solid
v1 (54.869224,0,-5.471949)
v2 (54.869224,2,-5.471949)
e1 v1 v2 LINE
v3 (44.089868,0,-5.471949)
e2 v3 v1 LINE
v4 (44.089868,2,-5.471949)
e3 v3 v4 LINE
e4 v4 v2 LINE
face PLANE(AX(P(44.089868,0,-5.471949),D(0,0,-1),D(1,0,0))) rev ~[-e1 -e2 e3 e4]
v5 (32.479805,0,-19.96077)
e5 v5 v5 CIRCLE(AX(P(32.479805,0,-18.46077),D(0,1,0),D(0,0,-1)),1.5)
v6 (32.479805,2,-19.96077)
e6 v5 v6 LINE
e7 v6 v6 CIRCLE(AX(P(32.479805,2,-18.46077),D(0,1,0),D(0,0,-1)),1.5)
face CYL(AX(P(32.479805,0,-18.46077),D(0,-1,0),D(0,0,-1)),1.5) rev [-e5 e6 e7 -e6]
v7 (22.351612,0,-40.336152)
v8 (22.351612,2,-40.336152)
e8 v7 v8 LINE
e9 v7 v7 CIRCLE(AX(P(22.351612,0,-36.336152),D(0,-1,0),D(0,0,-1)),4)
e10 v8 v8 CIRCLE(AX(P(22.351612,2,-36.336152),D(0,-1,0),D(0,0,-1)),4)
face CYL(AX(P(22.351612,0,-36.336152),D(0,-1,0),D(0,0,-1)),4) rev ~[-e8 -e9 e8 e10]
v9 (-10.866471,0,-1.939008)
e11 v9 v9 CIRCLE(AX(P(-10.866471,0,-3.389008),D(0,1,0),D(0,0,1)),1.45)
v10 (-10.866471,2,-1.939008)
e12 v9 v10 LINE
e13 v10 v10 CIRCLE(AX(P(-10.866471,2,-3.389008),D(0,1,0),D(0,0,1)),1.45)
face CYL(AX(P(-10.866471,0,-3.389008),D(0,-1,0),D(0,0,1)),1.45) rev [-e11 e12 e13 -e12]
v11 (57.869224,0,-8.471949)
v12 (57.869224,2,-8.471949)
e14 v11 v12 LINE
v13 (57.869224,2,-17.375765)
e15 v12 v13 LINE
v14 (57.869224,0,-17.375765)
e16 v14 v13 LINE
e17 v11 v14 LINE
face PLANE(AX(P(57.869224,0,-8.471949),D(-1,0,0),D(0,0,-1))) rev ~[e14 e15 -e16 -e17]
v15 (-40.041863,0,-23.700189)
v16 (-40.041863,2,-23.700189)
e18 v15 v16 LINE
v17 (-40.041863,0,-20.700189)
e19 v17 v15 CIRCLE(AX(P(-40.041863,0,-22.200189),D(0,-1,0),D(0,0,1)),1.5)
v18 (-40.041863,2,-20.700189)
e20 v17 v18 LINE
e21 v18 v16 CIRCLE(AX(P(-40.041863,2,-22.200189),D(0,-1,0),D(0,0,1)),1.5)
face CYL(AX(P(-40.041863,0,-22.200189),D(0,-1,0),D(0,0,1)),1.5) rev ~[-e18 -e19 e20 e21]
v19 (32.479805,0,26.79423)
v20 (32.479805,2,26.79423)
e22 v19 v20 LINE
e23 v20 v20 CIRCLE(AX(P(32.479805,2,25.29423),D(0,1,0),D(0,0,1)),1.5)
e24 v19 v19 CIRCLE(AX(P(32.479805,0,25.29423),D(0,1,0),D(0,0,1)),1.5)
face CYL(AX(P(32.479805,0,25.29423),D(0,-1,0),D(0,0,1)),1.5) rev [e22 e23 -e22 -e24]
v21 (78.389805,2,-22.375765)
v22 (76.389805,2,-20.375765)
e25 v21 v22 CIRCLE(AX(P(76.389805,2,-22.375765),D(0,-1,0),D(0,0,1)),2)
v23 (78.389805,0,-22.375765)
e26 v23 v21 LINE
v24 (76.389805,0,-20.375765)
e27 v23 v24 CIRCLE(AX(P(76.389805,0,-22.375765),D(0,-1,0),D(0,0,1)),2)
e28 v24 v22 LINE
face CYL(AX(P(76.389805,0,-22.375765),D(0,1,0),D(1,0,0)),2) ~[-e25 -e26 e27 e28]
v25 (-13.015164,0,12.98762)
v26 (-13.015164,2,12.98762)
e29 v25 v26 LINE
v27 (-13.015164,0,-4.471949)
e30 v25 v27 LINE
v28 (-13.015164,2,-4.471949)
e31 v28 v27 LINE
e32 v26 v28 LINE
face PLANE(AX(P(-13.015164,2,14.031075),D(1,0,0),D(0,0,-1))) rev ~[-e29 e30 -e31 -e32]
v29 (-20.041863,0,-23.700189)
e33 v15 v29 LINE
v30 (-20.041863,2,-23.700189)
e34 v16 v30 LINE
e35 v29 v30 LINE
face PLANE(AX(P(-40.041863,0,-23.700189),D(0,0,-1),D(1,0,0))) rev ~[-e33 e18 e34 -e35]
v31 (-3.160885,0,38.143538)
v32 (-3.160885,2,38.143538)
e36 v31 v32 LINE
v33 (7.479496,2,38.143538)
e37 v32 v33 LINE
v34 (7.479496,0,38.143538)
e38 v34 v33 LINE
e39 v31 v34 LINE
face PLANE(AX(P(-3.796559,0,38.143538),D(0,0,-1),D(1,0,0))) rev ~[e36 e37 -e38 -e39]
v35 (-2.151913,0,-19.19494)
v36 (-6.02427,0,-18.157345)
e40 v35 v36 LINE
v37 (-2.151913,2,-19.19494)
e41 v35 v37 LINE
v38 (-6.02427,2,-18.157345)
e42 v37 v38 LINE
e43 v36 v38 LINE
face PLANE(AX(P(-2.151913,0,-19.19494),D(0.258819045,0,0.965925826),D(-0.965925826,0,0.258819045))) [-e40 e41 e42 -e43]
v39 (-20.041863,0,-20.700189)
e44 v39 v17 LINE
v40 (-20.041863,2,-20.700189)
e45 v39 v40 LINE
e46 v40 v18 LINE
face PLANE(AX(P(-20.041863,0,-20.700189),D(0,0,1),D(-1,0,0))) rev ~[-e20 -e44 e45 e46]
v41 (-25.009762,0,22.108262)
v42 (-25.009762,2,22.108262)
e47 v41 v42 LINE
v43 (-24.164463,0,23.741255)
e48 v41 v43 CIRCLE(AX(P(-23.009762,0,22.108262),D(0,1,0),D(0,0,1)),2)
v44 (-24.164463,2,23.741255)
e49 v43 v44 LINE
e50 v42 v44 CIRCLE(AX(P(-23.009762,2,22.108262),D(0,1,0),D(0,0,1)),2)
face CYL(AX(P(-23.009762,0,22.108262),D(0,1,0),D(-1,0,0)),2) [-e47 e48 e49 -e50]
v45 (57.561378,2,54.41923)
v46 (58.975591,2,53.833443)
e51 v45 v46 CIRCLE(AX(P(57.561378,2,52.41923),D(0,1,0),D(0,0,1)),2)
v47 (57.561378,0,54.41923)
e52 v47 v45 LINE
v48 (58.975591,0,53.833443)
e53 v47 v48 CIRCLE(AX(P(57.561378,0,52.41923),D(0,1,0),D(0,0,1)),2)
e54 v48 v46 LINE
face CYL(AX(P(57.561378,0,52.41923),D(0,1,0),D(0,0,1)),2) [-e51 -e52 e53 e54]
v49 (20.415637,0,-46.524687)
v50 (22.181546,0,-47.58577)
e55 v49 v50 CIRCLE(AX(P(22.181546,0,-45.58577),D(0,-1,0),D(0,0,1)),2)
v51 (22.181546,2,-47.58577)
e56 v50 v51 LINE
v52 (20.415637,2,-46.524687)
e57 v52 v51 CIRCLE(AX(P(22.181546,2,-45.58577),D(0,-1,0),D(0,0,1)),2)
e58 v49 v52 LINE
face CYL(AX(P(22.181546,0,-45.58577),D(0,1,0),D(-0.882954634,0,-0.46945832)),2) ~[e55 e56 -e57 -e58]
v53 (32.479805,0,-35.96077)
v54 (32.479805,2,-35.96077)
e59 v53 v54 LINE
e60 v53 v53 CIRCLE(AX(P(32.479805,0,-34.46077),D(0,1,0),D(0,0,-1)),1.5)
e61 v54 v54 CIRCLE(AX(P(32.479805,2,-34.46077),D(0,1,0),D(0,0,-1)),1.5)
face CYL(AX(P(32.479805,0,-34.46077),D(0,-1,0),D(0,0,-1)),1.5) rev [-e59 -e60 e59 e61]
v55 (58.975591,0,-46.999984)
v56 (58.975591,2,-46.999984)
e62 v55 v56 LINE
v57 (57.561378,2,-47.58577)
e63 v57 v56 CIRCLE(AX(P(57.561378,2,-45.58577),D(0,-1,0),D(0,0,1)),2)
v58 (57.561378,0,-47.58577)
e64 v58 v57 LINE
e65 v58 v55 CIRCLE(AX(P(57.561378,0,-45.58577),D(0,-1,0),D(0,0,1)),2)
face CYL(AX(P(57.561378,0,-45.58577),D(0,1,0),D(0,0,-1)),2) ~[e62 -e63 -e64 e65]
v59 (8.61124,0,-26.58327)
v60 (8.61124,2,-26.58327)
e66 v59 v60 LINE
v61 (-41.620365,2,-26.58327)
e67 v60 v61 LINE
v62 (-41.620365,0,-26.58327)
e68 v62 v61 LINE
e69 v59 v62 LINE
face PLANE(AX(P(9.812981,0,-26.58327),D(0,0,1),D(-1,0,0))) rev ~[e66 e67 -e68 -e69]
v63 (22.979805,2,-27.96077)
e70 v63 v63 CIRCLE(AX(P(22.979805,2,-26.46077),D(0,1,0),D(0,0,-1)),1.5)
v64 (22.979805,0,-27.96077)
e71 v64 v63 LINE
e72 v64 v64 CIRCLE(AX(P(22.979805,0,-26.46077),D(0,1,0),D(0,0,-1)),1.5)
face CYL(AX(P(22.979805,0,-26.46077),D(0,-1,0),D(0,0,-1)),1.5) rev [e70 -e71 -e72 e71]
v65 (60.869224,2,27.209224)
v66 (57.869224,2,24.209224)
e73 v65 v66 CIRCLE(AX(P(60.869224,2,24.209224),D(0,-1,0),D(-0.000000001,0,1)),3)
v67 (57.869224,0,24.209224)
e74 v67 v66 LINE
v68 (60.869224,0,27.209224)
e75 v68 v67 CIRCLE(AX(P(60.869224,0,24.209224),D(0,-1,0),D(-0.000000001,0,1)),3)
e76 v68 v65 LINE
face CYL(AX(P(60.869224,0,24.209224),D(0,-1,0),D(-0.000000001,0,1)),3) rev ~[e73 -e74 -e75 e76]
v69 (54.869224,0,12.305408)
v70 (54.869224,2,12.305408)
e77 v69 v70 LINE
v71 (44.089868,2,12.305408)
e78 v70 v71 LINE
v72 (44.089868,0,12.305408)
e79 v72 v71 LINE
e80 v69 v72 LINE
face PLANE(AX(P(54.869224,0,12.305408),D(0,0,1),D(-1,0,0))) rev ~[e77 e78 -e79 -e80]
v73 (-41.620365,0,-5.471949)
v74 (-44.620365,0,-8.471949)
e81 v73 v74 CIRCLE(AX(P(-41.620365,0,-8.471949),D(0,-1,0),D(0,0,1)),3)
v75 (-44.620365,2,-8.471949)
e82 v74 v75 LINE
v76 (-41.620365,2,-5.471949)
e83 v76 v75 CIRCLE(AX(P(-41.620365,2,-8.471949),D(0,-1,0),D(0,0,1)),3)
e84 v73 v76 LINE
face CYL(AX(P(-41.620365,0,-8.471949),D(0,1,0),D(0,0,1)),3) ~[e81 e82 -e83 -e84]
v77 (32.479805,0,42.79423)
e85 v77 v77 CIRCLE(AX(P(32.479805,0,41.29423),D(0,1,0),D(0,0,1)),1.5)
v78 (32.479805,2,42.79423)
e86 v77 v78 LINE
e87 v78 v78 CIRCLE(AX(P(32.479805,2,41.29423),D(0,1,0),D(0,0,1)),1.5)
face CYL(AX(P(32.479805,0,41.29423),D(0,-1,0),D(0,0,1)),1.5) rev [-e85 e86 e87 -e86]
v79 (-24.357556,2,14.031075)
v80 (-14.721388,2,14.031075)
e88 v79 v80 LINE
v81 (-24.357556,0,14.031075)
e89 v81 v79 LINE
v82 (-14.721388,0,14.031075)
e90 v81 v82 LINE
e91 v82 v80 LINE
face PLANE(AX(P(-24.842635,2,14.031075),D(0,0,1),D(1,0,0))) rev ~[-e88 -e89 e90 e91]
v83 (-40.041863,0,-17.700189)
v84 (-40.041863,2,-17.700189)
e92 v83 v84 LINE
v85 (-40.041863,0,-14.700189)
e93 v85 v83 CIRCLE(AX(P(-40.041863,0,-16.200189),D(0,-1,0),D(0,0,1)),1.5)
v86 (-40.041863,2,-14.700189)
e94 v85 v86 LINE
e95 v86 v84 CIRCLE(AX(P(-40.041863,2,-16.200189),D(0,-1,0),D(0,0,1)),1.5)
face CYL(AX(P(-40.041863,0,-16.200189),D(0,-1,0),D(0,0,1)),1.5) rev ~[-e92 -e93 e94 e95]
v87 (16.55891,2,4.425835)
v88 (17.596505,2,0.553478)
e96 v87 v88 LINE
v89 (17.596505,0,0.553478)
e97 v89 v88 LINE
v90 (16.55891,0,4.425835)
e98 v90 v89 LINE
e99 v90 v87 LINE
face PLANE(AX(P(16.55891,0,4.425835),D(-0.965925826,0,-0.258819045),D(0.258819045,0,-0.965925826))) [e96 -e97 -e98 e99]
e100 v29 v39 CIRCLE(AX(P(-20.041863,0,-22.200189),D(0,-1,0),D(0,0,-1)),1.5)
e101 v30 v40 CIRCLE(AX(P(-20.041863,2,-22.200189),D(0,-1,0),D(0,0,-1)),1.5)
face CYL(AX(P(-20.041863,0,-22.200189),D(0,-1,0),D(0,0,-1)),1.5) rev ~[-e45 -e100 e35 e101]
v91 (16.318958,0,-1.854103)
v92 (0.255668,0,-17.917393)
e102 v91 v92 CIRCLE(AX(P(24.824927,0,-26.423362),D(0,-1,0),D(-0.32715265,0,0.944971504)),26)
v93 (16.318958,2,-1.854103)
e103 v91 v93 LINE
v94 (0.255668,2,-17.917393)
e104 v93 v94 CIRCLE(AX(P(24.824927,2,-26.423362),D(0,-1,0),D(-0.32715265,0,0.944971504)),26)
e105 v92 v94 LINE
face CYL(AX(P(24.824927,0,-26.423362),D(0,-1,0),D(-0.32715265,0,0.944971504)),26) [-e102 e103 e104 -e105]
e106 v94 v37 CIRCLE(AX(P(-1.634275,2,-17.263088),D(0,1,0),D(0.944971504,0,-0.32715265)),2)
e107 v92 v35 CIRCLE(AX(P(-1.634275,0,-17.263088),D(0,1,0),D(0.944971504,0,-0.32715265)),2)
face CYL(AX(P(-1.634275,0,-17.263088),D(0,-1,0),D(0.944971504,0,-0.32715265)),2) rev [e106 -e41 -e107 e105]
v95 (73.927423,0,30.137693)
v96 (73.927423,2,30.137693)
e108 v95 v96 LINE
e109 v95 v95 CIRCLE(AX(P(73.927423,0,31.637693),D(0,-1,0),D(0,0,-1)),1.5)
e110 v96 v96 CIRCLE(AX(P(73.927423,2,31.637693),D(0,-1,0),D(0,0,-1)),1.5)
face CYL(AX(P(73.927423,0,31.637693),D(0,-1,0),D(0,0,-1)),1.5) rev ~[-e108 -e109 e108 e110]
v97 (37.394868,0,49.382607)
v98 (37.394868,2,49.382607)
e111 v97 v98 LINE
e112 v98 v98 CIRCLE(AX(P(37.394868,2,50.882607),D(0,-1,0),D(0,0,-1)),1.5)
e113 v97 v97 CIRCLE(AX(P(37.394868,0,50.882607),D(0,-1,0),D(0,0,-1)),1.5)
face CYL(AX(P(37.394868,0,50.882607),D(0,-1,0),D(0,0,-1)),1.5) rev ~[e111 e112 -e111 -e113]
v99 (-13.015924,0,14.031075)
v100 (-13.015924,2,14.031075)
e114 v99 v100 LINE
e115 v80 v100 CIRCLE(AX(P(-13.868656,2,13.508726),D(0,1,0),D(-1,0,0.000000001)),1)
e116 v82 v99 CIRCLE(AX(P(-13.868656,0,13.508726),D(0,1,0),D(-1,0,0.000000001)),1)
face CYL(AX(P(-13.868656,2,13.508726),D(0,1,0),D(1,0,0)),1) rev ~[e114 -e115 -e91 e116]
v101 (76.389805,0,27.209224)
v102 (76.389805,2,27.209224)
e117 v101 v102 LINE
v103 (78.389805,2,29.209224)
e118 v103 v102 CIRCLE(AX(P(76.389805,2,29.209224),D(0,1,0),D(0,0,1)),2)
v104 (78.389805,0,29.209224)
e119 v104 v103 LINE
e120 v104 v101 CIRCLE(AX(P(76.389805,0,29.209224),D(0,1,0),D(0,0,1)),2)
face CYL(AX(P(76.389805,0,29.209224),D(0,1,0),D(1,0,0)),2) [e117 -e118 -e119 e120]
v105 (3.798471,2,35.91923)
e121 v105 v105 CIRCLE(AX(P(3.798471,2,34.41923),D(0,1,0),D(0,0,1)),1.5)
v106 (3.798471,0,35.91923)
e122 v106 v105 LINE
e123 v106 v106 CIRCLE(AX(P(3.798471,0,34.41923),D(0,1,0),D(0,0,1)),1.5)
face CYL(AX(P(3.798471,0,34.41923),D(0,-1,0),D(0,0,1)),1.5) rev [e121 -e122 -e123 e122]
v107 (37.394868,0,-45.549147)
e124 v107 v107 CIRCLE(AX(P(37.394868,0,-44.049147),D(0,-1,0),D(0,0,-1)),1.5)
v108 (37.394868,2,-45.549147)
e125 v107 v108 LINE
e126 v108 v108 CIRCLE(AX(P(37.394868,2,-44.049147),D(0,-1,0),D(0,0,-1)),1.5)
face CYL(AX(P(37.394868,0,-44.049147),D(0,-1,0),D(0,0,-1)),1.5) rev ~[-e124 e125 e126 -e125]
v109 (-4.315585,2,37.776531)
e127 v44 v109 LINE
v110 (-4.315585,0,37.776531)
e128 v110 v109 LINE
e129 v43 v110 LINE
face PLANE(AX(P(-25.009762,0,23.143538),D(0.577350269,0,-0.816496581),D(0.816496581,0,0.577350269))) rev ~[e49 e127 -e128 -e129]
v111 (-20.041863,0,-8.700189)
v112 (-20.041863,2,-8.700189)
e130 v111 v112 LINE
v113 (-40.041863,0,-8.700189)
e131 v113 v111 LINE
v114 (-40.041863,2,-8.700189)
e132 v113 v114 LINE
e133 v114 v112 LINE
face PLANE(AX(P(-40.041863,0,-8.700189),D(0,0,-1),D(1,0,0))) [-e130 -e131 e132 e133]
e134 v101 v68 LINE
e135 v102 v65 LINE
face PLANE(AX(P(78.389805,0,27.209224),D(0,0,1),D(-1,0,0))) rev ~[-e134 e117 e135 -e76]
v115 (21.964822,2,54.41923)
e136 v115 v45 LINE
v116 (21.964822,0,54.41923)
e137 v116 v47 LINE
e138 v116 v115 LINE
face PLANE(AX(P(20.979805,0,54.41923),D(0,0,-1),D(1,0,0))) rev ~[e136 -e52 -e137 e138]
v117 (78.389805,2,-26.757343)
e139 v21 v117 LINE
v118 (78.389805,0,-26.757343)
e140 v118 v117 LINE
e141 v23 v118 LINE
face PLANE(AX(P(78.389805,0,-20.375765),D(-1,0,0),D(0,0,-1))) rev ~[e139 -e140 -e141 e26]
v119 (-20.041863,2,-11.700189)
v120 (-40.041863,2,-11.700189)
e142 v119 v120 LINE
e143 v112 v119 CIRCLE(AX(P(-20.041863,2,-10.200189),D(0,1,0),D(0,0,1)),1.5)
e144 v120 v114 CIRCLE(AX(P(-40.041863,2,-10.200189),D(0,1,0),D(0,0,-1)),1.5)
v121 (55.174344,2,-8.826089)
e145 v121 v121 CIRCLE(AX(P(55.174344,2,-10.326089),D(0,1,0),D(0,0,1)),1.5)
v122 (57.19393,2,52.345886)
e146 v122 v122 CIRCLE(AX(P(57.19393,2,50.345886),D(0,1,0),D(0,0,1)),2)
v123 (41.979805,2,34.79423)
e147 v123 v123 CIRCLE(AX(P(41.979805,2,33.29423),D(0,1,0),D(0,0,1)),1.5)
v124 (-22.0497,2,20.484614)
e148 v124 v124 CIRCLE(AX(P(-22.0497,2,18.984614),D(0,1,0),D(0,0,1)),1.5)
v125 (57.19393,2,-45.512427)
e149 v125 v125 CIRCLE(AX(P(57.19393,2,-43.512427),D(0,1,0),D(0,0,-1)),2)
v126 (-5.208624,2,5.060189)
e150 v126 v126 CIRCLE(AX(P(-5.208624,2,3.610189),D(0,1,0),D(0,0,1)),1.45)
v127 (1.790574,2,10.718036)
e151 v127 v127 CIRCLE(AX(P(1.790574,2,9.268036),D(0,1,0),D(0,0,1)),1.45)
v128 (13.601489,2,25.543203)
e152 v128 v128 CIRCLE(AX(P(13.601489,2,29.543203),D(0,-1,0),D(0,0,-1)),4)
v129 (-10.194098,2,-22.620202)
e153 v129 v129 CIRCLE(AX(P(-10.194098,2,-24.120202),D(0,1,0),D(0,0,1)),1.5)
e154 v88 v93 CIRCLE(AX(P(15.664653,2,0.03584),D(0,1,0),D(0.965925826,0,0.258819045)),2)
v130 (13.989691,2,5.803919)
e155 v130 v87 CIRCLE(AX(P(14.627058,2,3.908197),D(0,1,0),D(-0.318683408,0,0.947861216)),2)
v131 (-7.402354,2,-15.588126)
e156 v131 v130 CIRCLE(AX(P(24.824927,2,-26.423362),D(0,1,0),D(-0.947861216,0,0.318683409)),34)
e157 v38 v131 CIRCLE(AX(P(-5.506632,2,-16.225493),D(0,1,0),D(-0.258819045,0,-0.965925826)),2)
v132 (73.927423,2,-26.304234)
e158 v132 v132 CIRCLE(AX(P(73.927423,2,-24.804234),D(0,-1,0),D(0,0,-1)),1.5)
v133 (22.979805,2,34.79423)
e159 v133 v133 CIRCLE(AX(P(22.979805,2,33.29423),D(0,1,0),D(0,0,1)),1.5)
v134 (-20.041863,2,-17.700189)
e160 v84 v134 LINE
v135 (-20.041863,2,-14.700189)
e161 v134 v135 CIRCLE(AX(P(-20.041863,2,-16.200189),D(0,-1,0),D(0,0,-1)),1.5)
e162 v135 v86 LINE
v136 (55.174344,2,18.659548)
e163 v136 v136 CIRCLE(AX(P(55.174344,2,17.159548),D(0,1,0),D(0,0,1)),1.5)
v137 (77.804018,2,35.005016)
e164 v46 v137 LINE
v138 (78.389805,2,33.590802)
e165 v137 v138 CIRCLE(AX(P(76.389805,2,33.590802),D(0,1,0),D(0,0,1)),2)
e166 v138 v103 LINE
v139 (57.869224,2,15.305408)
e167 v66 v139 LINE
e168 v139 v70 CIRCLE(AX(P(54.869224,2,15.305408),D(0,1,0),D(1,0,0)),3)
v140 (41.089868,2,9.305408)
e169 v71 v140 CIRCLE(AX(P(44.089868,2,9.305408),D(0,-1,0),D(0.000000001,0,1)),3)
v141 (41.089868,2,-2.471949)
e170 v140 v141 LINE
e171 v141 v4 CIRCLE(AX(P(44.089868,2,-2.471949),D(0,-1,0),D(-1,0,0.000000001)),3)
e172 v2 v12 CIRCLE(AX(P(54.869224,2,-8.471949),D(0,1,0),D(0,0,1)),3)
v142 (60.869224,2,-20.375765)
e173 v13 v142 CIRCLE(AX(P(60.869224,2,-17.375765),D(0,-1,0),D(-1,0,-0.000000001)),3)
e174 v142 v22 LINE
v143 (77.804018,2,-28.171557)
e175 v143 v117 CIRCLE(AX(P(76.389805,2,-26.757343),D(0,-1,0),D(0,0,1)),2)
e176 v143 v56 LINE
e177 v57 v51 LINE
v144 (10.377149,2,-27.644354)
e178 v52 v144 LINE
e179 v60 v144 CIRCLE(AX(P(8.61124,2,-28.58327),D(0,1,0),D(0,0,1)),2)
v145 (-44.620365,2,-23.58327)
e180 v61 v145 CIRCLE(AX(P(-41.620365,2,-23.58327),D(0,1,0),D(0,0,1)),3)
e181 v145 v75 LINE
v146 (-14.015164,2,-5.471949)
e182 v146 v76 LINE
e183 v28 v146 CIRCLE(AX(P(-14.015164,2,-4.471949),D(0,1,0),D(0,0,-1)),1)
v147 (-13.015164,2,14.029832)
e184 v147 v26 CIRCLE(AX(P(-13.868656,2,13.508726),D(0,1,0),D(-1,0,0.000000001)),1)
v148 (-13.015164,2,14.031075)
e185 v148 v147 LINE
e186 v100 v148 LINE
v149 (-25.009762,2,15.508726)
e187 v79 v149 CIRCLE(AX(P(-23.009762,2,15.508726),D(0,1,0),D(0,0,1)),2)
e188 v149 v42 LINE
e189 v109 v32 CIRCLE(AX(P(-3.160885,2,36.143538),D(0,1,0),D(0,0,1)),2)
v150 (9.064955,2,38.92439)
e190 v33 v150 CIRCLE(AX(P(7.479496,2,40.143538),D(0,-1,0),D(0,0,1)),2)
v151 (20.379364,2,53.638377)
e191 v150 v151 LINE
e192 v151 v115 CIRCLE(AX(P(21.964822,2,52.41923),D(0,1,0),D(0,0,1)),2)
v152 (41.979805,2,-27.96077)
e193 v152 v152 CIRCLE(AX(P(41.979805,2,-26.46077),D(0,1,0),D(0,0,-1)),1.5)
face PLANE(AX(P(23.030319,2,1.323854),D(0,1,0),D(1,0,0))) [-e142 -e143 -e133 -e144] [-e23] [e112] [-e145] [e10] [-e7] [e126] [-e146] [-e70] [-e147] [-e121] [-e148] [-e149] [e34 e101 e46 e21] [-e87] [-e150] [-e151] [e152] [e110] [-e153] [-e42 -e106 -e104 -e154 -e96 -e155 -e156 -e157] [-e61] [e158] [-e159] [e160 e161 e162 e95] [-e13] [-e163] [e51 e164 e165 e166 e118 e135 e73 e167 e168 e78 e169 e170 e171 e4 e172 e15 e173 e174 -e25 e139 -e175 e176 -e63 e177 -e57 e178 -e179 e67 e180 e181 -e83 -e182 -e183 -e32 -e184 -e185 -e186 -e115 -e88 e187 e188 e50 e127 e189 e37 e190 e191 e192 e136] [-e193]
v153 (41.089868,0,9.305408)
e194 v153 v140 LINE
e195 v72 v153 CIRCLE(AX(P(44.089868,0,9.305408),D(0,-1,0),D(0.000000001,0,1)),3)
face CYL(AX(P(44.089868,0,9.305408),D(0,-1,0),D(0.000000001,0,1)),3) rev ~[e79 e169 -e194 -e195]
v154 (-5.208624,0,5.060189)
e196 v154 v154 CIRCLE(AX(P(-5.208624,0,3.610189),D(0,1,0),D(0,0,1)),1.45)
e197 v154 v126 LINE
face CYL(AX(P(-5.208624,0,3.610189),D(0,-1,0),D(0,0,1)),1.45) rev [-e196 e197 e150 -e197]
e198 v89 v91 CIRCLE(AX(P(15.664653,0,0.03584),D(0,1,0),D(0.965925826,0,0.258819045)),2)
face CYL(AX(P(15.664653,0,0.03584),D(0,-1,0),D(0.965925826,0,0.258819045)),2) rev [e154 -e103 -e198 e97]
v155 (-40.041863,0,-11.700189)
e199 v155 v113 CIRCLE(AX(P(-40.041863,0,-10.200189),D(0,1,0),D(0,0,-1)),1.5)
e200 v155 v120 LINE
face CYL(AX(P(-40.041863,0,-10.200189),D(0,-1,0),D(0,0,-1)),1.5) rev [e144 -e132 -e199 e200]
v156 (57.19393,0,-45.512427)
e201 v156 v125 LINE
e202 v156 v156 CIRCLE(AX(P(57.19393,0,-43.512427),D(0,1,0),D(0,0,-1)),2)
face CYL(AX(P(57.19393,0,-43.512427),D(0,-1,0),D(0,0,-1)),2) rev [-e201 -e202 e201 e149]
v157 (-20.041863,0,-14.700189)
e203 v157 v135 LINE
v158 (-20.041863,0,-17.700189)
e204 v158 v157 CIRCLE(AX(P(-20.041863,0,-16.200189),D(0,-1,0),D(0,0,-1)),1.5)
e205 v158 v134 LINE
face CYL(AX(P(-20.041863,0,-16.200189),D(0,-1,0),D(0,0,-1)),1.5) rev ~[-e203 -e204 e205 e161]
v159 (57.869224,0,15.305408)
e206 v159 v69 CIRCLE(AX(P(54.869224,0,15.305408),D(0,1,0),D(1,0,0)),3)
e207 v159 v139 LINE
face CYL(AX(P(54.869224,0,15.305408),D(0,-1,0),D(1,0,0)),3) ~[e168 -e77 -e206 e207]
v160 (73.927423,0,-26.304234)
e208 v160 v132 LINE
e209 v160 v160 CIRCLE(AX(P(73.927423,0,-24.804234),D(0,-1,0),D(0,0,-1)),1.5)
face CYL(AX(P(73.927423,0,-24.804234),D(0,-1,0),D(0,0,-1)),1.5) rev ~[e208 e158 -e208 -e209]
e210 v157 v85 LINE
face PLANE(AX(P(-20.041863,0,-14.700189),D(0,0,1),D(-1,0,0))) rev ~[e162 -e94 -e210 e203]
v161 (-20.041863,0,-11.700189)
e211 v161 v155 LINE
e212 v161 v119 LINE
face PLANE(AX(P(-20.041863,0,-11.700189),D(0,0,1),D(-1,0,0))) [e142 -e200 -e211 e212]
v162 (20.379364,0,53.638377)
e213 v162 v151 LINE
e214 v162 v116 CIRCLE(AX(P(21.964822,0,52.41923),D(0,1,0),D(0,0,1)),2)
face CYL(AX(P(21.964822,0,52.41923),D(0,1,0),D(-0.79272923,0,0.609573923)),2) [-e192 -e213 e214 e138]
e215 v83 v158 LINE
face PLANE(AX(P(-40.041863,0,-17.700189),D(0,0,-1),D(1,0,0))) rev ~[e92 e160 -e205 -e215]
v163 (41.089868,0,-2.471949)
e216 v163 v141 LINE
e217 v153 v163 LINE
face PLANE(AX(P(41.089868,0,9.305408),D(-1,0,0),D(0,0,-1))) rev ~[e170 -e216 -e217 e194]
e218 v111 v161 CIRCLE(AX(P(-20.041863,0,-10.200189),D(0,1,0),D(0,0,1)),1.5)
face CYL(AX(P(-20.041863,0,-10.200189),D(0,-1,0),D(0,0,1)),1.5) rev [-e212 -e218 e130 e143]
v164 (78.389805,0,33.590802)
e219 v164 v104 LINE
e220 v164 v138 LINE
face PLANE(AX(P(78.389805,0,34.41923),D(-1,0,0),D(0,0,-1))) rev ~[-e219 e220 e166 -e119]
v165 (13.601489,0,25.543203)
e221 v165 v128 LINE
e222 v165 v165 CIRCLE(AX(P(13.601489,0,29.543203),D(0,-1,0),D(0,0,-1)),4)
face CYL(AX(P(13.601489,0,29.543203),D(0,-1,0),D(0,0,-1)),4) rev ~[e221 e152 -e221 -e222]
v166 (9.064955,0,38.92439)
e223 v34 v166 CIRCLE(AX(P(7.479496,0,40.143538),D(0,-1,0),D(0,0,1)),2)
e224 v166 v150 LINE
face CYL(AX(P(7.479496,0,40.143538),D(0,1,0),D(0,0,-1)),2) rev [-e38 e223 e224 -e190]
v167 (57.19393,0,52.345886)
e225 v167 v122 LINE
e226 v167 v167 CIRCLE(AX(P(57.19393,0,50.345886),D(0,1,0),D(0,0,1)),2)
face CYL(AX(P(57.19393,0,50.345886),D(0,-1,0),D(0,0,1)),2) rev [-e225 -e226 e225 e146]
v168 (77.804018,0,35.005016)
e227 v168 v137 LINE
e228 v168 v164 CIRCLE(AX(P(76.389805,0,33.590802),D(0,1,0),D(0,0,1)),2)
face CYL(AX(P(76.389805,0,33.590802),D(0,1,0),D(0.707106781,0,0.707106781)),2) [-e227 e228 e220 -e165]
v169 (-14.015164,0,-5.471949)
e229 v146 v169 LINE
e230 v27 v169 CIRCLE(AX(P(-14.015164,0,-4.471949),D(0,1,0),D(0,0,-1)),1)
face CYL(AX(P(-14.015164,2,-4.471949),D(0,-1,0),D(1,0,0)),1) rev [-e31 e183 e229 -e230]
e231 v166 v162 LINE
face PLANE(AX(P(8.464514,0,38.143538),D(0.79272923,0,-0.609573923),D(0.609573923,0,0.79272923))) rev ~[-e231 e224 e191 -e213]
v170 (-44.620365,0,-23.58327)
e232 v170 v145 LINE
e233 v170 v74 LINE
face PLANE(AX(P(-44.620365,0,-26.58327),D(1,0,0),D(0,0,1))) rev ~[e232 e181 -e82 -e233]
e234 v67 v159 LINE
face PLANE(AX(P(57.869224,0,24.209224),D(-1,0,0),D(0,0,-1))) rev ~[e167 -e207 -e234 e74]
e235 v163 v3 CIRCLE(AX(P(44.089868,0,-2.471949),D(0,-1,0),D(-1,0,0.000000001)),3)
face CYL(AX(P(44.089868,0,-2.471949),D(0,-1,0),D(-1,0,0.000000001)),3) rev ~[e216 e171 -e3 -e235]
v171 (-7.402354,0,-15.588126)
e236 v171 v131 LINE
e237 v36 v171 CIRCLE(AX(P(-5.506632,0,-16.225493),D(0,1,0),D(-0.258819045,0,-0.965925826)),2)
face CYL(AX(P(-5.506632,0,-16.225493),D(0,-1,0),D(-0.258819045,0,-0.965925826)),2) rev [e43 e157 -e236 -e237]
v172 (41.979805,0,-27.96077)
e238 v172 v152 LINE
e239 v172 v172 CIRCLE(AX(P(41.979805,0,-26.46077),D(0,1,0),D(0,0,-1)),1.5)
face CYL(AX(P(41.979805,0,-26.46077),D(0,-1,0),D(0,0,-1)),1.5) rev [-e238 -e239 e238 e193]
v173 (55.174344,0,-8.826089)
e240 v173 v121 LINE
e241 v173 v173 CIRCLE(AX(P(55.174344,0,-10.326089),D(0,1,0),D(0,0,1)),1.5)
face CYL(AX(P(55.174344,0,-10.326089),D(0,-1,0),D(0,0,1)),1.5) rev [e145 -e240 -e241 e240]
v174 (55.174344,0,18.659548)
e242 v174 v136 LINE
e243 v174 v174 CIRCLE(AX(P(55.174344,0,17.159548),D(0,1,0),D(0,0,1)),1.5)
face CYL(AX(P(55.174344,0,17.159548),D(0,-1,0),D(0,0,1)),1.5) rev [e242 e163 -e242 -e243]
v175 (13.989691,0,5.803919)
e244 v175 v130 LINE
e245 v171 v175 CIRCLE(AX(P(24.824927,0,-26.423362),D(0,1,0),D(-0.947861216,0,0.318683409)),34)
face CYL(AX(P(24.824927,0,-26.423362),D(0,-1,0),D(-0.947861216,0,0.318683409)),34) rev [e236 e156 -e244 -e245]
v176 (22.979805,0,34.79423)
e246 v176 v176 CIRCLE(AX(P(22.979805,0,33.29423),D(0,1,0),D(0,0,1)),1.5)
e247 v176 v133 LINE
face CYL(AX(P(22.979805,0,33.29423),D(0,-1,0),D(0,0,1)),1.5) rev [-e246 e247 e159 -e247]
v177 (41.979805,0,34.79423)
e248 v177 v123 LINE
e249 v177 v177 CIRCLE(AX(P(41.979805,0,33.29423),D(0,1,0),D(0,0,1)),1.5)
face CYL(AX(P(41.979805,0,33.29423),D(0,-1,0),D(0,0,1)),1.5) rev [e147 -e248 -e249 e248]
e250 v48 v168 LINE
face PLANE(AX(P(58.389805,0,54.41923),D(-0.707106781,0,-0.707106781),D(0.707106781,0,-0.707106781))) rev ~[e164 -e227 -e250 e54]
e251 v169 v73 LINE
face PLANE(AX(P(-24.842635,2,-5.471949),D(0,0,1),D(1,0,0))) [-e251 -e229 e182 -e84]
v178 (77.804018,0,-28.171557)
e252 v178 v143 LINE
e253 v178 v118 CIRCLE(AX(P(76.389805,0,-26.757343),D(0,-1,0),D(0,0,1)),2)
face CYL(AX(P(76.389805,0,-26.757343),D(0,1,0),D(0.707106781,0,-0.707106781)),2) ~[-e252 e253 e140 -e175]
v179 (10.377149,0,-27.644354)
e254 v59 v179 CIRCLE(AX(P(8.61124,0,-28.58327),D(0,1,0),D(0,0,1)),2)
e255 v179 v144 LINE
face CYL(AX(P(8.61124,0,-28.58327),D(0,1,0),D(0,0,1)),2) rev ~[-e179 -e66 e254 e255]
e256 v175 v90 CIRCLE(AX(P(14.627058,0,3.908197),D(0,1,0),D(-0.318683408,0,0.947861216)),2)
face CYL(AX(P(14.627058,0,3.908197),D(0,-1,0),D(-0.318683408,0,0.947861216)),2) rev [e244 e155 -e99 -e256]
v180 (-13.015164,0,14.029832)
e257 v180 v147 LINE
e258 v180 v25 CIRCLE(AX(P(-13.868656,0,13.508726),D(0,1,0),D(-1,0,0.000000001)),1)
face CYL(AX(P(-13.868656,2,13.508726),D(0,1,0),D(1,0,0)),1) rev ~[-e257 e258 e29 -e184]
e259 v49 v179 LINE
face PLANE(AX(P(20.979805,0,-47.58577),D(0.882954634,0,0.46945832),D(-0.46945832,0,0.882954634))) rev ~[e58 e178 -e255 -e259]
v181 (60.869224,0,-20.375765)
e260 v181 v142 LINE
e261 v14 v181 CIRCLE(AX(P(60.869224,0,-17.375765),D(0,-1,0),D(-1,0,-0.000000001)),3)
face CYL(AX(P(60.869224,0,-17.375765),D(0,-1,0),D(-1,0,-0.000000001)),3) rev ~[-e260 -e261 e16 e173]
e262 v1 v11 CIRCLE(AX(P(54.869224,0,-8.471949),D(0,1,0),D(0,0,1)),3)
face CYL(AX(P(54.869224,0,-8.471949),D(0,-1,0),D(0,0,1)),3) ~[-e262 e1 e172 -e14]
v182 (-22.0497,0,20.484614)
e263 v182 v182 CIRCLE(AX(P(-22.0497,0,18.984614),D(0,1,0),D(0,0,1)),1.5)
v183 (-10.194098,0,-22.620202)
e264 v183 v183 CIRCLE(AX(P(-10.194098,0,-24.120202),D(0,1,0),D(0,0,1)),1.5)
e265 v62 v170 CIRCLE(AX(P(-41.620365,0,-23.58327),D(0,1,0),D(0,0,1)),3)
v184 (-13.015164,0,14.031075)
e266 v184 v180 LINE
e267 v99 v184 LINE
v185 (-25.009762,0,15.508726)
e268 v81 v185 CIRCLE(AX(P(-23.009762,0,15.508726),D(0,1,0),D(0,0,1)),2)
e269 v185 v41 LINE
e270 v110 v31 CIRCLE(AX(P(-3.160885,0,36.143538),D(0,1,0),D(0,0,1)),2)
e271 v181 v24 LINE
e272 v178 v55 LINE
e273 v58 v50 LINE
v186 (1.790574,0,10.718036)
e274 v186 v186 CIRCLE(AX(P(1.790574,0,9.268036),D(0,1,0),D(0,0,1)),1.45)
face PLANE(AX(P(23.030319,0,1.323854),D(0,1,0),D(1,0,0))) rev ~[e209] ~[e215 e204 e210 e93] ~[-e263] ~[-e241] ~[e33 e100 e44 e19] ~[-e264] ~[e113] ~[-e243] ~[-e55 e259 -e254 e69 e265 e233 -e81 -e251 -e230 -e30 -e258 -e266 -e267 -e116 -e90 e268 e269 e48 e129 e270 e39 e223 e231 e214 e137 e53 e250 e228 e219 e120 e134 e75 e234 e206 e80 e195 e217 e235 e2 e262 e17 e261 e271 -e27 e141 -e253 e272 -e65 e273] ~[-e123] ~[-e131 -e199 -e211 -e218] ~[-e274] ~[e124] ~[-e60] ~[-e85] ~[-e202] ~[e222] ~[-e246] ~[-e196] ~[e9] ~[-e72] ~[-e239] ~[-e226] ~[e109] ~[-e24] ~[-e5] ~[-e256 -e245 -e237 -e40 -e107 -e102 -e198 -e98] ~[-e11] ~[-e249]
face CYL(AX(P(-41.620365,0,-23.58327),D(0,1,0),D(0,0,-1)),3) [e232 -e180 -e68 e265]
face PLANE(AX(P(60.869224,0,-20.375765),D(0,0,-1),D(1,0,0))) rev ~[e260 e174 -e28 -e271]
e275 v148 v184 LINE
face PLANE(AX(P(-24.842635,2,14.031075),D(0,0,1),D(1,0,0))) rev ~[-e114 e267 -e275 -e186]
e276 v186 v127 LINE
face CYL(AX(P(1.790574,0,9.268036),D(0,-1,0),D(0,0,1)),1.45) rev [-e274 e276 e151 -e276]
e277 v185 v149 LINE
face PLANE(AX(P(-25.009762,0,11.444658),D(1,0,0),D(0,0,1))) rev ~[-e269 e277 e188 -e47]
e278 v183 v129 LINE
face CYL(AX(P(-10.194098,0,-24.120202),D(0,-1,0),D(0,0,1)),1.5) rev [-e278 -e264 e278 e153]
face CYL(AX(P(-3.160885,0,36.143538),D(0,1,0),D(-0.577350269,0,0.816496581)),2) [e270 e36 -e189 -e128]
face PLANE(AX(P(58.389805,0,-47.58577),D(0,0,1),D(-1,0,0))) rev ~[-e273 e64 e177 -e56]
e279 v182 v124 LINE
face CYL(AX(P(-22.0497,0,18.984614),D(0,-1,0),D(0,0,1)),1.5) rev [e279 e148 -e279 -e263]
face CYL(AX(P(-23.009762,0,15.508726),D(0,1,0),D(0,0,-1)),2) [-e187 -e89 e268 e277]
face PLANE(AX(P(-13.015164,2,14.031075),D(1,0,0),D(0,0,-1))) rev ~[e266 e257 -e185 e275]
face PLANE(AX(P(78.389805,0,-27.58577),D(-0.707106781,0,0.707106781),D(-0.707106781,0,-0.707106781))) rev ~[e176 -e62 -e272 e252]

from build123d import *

# Parameters (mm, degrees)
SKETCH1_R           = 1.5
SKETCH1_R_2         = 2
SKETCH1_R_3         = 1.45
BOSS_EXTRUDE1_DEPTH = 2
CUT_EXTRUDE1_DEPTH  = 2
FILLET1_R           = 3
SKETCH3_R           = 1.5
CUT_EXTRUDE2_DEPTH  = 10
SKETCH_1_W          = 11.141106223
SKETCH_1_H          = 2.064068387
CUT_EXTRUDE_1_DEPTH = 10
SKETCH_2_R          = 4
CUT_EXTRUDE_2_DEPTH = 96.448488805
FILLET2_R           = 2
SKETCH4_R           = 1
CUT_EXTRUDE3_DEPTH  = 10
SKETCH5_W           = 11.82747082
SKETCH5_H           = 19.50302412
CUT_EXTRUDE4_DEPTH  = 10
FILLET3_R           = 1


with BuildPart() as part:
    # Sketch1 → Boss-Extrude1 (new body)
    with BuildSketch(Plane(origin=(0, 0, 0), x_dir=(1, 0, 0), z_dir=(0, 1, 0))):
        with BuildLine():
            Line((54.869224403, -12.305407816), (44.089868135, -12.305407816))
            ThreePointArc((44.089868135, -12.305407816), (41.968547791, -11.42672816), (41.089868135, -9.305407816))
            Line((41.089868135, -9.305407816), (41.089868135, 2.471948803))
            ThreePointArc((41.089868135, 2.471948803), (41.968547791, 4.593269147), (44.089868135, 5.471948803))
            Line((44.089868135, 5.471948803), (54.869224403, 5.471948803))
            ThreePointArc((54.869224403, 5.471948803), (56.990544747, 6.35062846), (57.869224403, 8.471948803))
            Line((57.869224403, 8.471948803), (57.869224403, 17.375765412))
            ThreePointArc((57.869224403, 17.375765412), (58.74790406, 19.497085755), (60.869224403, 20.375765412))
            Line((60.869224403, 20.375765412), (78.389804663, 20.375765412))
            Line((78.389804663, 20.375765412), (78.389804663, 27.585770494))
            Line((78.389804663, 27.585770494), (58.389804663, 47.585770494))
            Line((58.389804663, 47.585770494), (20.979804663, 47.585770494))
            Line((20.979804663, 47.585770494), (9.812981375, 26.583270494))
            Line((9.812981375, 26.583270494), (-13.868656246, 26.583270494))
            Line((-13.868656246, 26.583270494), (-44.620364758, 26.583270494))
            Line((-44.620364758, 26.583270494), (-44.620364758, 5.471948803))
            Line((-44.620364758, 5.471948803), (-13.868656246, 5.471948803))
            Line((-13.868656246, 5.471948803), (-13.868656246, -11.444658054))
            Line((-13.868656246, -11.444658054), (-25.009762469, -11.444658054))
            Line((-25.009762469, -11.444658054), (-25.009762469, -23.143538054))
            Line((-25.009762469, -23.143538054), (-3.796559034, -38.143538054))
            Line((-3.796559034, -38.143538054), (8.464513563, -38.143538054))
            Line((8.464513563, -38.143538054), (20.979804663, -54.419229506))
            Line((20.979804663, -54.419229506), (58.389804663, -54.419229506))
            Line((58.389804663, -54.419229506), (78.389804663, -34.419229506))
            Line((78.389804663, -34.419229506), (78.389804663, -27.209224425))
            Line((78.389804663, -27.209224425), (60.869224403, -27.209224425))
            ThreePointArc((60.869224403, -27.209224425), (58.74790406, -26.330544768), (57.869224403, -24.209224425))
            Line((57.869224403, -24.209224425), (57.869224403, -15.305407816))
            ThreePointArc((57.869224403, -15.305407816), (56.990544747, -13.184087473), (54.869224403, -12.305407816))
        make_face()
        with Locations(Location((32.479804663, -41.294229506, 0), (0, 0, 270))):
            Circle(SKETCH1_R, mode=Mode.SUBTRACT)
        with Locations(Location((41.979804663, -33.294229506, 0), (0, 0, 270))):
            Circle(SKETCH1_R, mode=Mode.SUBTRACT)
        with Locations(Location((32.479804663, -25.294229506, 0), (0, 0, 270))):
            Circle(SKETCH1_R, mode=Mode.SUBTRACT)
        with Locations(Location((22.979804663, -33.294229506, 0), (0, 0, 270))):
            Circle(SKETCH1_R, mode=Mode.SUBTRACT)
        with Locations(Location((-10.194098263, 24.120202053, 0), (0, 0, 270))):
            Circle(SKETCH1_R, mode=Mode.SUBTRACT)
        with Locations(Location((-22.049699545, -18.984613762, 0), (0, 0, 270))):
            Circle(SKETCH1_R, mode=Mode.SUBTRACT)
        with Locations(Location((3.798471154, -34.419229506, 0), (0, 0, 270))):
            Circle(SKETCH1_R, mode=Mode.SUBTRACT)
        with Locations(Location((57.193929966, -50.345885936, 0), (0, 0, 270))):
            Circle(SKETCH1_R_2, mode=Mode.SUBTRACT)
        with Locations(Location((55.174344354, -17.159547773, 0), (0, 0, 270))):
            Circle(SKETCH1_R, mode=Mode.SUBTRACT)
        with Locations(Location((55.174344354, 10.32608876, 0), (0, 0, 270))):
            Circle(SKETCH1_R, mode=Mode.SUBTRACT)
        with Locations(Location((-10.866471131, 3.389008325, 0), (0, 0, 270))):
            Circle(SKETCH1_R_3, mode=Mode.SUBTRACT)
        with Locations(Location((-5.208623843, -3.610189063, 0), (0, 0, 270))):
            Circle(SKETCH1_R_3, mode=Mode.SUBTRACT)
        with Locations(Location((1.790573544, -9.268036351, 0), (0, 0, 270))):
            Circle(SKETCH1_R_3, mode=Mode.SUBTRACT)
        with Locations(Location((57.193929966, 43.512426923, 0), (0, 0, 90))):
            Circle(SKETCH1_R_2, mode=Mode.SUBTRACT)
        with Locations(Location((22.979804663, 26.460770494, 0), (0, 0, 90))):
            Circle(SKETCH1_R, mode=Mode.SUBTRACT)
        with Locations(Location((32.479804663, 18.460770494, 0), (0, 0, 90))):
            Circle(SKETCH1_R, mode=Mode.SUBTRACT)
        with Locations(Location((41.979804663, 26.460770494, 0), (0, 0, 90))):
            Circle(SKETCH1_R, mode=Mode.SUBTRACT)
        with Locations(Location((32.479804663, 34.460770494, 0), (0, 0, 90))):
            Circle(SKETCH1_R, mode=Mode.SUBTRACT)
        with BuildLine():
            Line((16.558909908, -4.425834893), (17.596504785, -0.553478093))
            ThreePointArc((17.596504785, -0.553478093), (17.431334664, 0.901622726), (16.318958433, 1.854103006))
            ThreePointArc((16.318958433, 1.854103006), (6.440151022, 8.038585802), (0.255668225, 17.917393213))
            ThreePointArc((0.255668225, 17.917393213), (-0.696812054, 19.029769444), (-2.151912873, 19.194939566))
            Line((-2.151912873, 19.194939566), (-6.024269674, 18.157344688))
            ThreePointArc((-6.024269674, 18.157344688), (-7.269100914, 17.170851095), (-7.402354016, 15.588126218))
            ThreePointArc((-7.402354016, 15.588126218), (0.783296772, 2.381731553), (13.989691438, -5.803919235))
            ThreePointArc((13.989691438, -5.803919235), (15.572416314, -5.670666133), (16.558909908, -4.425834893))
        make_face(mode=Mode.SUBTRACT)
    extrude(amount=BOSS_EXTRUDE1_DEPTH)

    # Sketch2 → Cut-Extrude1 (cut)
    with BuildSketch(Plane.XZ):
        with BuildLine():
            Line((-40.041862968, -8.700189144), (-20.041862968, -8.700189144))
            ThreePointArc((-20.041862968, -8.700189144), (-18.541862968, -10.200189144), (-20.041862968, -11.700189144))
            Line((-20.041862968, -11.700189144), (-40.041862968, -11.700189144))
            ThreePointArc((-40.041862968, -11.700189144), (-41.541862968, -10.200189144), (-40.041862968, -8.700189144))
        make_face()
        with BuildLine():
            Line((-40.041862968, -17.700189144), (-20.041862968, -17.700189144))
            ThreePointArc((-20.041862968, -17.700189144), (-18.541862968, -16.200189144), (-20.041862968, -14.700189144))
            Line((-20.041862968, -14.700189144), (-40.041862968, -14.700189144))
            ThreePointArc((-40.041862968, -14.700189144), (-41.541862968, -16.200189144), (-40.041862968, -17.700189144))
        make_face()
        with BuildLine():
            Line((-40.041862968, -23.700189144), (-20.041862968, -23.700189144))
            ThreePointArc((-20.041862968, -23.700189144), (-18.541862968, -22.200189144), (-20.041862968, -20.700189144))
            Line((-20.041862968, -20.700189144), (-40.041862968, -20.700189144))
            ThreePointArc((-40.041862968, -20.700189144), (-41.541862968, -22.200189144), (-40.041862968, -23.700189144))
        make_face()
    extrude(amount=-CUT_EXTRUDE1_DEPTH, mode=Mode.SUBTRACT)

    # Fillet1
    fillet1_edges = [part.edges().sort_by_distance(p)[0] for p in [
        (-44.620364758, 1, -5.471948803),
        (-44.620364758, 1, -26.583270494),
    ]]
    fillet(fillet1_edges, radius=FILLET1_R)

    # Sketch3 → Cut-Extrude2 (cut)
    with BuildSketch(Plane.XZ):
        with Locations(Location((37.394868442, -44.049147495, 0), (0, 0, 270))):
            Circle(SKETCH3_R)
        with Locations(Location((37.394868442, 50.882606508, 0), (0, 0, 270))):
            Circle(SKETCH3_R)
        with Locations(Location((73.927423247, 31.637693078, 0), (0, 0, 270))):
            Circle(SKETCH3_R)
        with Locations(Location((73.927423247, -24.804234066, 0), (0, 0, 270))):
            Circle(SKETCH3_R)
    extrude(amount=-CUT_EXTRUDE2_DEPTH, mode=Mode.SUBTRACT)

    # 草图1 → 切除-拉伸1 (cut)
    with BuildSketch(Plane.XZ):
        with Locations((-19.439209358, 12.476692248)):
            Rectangle(SKETCH_1_W, SKETCH_1_H)
    extrude(amount=-CUT_EXTRUDE_1_DEPTH, mode=Mode.SUBTRACT)

    # 草图2 → 切除-拉伸2 (cut, through all)
    with BuildSketch(Plane.XZ):
        with Locations(Location((13.601488823, 29.543202895, 0), (0, 0, 270))):
            Circle(SKETCH_2_R)
        with Locations(Location((22.351612258, -36.336152346, 0), (0, 0, 270))):
            Circle(SKETCH_2_R)
    extrude(amount=-CUT_EXTRUDE_2_DEPTH, mode=Mode.SUBTRACT)

    # Fillet2
    fillet2_edges = [part.edges().sort_by_distance(p)[0] for p in [
        (-25.009762469, 1, 13.508726441),
        (58.389804663, 1, -47.585770494),
        (78.389804663, 1, -27.585770494),
        (78.389804663, 1, -20.375765412),
        (78.389804663, 1, 27.209224425),
        (78.389804663, 1, 34.419229506),
        (58.389804663, 1, 54.419229506),
        (20.979804663, 1, 54.419229506),
        (8.464513563, 1, 38.143538054),
        (-3.796559034, 1, 38.143538054),
        (-25.009762469, 1, 23.143538054),
        (-13.868656246, 1, -5.471948803),
        (9.812981375, 1, -26.583270494),
        (20.979804663, 1, -47.585770494),
    ]]
    fillet(fillet2_edges, radius=FILLET2_R)

    # Sketch4 → Cut-Extrude3 (cut)
    with BuildSketch(Plane(origin=(0, 2, 0), x_dir=(1, 0, 0), z_dir=(0, 1, 0))):
        with Locations((-13.868656246, -13.508726441)):
            Circle(SKETCH4_R)
    extrude(amount=-CUT_EXTRUDE3_DEPTH, mode=Mode.SUBTRACT)

    # Sketch5 → Cut-Extrude4 (cut)
    with BuildSketch(Plane(origin=(0, 2, 0), x_dir=(1, 0, 0), z_dir=(0, 1, 0))):
        with Locations((-18.928899697, -4.279563257)):
            Rectangle(SKETCH5_W, SKETCH5_H)
    extrude(amount=-CUT_EXTRUDE4_DEPTH, mode=Mode.SUBTRACT)

    # Fillet3
    fillet3_edges = [part.edges().sort_by_distance(p)[0] for p in [
        (-13.015164287, 1, -5.471948803),
    ]]
    fillet(fillet3_edges, radius=FILLET3_R)


solid = part.part
